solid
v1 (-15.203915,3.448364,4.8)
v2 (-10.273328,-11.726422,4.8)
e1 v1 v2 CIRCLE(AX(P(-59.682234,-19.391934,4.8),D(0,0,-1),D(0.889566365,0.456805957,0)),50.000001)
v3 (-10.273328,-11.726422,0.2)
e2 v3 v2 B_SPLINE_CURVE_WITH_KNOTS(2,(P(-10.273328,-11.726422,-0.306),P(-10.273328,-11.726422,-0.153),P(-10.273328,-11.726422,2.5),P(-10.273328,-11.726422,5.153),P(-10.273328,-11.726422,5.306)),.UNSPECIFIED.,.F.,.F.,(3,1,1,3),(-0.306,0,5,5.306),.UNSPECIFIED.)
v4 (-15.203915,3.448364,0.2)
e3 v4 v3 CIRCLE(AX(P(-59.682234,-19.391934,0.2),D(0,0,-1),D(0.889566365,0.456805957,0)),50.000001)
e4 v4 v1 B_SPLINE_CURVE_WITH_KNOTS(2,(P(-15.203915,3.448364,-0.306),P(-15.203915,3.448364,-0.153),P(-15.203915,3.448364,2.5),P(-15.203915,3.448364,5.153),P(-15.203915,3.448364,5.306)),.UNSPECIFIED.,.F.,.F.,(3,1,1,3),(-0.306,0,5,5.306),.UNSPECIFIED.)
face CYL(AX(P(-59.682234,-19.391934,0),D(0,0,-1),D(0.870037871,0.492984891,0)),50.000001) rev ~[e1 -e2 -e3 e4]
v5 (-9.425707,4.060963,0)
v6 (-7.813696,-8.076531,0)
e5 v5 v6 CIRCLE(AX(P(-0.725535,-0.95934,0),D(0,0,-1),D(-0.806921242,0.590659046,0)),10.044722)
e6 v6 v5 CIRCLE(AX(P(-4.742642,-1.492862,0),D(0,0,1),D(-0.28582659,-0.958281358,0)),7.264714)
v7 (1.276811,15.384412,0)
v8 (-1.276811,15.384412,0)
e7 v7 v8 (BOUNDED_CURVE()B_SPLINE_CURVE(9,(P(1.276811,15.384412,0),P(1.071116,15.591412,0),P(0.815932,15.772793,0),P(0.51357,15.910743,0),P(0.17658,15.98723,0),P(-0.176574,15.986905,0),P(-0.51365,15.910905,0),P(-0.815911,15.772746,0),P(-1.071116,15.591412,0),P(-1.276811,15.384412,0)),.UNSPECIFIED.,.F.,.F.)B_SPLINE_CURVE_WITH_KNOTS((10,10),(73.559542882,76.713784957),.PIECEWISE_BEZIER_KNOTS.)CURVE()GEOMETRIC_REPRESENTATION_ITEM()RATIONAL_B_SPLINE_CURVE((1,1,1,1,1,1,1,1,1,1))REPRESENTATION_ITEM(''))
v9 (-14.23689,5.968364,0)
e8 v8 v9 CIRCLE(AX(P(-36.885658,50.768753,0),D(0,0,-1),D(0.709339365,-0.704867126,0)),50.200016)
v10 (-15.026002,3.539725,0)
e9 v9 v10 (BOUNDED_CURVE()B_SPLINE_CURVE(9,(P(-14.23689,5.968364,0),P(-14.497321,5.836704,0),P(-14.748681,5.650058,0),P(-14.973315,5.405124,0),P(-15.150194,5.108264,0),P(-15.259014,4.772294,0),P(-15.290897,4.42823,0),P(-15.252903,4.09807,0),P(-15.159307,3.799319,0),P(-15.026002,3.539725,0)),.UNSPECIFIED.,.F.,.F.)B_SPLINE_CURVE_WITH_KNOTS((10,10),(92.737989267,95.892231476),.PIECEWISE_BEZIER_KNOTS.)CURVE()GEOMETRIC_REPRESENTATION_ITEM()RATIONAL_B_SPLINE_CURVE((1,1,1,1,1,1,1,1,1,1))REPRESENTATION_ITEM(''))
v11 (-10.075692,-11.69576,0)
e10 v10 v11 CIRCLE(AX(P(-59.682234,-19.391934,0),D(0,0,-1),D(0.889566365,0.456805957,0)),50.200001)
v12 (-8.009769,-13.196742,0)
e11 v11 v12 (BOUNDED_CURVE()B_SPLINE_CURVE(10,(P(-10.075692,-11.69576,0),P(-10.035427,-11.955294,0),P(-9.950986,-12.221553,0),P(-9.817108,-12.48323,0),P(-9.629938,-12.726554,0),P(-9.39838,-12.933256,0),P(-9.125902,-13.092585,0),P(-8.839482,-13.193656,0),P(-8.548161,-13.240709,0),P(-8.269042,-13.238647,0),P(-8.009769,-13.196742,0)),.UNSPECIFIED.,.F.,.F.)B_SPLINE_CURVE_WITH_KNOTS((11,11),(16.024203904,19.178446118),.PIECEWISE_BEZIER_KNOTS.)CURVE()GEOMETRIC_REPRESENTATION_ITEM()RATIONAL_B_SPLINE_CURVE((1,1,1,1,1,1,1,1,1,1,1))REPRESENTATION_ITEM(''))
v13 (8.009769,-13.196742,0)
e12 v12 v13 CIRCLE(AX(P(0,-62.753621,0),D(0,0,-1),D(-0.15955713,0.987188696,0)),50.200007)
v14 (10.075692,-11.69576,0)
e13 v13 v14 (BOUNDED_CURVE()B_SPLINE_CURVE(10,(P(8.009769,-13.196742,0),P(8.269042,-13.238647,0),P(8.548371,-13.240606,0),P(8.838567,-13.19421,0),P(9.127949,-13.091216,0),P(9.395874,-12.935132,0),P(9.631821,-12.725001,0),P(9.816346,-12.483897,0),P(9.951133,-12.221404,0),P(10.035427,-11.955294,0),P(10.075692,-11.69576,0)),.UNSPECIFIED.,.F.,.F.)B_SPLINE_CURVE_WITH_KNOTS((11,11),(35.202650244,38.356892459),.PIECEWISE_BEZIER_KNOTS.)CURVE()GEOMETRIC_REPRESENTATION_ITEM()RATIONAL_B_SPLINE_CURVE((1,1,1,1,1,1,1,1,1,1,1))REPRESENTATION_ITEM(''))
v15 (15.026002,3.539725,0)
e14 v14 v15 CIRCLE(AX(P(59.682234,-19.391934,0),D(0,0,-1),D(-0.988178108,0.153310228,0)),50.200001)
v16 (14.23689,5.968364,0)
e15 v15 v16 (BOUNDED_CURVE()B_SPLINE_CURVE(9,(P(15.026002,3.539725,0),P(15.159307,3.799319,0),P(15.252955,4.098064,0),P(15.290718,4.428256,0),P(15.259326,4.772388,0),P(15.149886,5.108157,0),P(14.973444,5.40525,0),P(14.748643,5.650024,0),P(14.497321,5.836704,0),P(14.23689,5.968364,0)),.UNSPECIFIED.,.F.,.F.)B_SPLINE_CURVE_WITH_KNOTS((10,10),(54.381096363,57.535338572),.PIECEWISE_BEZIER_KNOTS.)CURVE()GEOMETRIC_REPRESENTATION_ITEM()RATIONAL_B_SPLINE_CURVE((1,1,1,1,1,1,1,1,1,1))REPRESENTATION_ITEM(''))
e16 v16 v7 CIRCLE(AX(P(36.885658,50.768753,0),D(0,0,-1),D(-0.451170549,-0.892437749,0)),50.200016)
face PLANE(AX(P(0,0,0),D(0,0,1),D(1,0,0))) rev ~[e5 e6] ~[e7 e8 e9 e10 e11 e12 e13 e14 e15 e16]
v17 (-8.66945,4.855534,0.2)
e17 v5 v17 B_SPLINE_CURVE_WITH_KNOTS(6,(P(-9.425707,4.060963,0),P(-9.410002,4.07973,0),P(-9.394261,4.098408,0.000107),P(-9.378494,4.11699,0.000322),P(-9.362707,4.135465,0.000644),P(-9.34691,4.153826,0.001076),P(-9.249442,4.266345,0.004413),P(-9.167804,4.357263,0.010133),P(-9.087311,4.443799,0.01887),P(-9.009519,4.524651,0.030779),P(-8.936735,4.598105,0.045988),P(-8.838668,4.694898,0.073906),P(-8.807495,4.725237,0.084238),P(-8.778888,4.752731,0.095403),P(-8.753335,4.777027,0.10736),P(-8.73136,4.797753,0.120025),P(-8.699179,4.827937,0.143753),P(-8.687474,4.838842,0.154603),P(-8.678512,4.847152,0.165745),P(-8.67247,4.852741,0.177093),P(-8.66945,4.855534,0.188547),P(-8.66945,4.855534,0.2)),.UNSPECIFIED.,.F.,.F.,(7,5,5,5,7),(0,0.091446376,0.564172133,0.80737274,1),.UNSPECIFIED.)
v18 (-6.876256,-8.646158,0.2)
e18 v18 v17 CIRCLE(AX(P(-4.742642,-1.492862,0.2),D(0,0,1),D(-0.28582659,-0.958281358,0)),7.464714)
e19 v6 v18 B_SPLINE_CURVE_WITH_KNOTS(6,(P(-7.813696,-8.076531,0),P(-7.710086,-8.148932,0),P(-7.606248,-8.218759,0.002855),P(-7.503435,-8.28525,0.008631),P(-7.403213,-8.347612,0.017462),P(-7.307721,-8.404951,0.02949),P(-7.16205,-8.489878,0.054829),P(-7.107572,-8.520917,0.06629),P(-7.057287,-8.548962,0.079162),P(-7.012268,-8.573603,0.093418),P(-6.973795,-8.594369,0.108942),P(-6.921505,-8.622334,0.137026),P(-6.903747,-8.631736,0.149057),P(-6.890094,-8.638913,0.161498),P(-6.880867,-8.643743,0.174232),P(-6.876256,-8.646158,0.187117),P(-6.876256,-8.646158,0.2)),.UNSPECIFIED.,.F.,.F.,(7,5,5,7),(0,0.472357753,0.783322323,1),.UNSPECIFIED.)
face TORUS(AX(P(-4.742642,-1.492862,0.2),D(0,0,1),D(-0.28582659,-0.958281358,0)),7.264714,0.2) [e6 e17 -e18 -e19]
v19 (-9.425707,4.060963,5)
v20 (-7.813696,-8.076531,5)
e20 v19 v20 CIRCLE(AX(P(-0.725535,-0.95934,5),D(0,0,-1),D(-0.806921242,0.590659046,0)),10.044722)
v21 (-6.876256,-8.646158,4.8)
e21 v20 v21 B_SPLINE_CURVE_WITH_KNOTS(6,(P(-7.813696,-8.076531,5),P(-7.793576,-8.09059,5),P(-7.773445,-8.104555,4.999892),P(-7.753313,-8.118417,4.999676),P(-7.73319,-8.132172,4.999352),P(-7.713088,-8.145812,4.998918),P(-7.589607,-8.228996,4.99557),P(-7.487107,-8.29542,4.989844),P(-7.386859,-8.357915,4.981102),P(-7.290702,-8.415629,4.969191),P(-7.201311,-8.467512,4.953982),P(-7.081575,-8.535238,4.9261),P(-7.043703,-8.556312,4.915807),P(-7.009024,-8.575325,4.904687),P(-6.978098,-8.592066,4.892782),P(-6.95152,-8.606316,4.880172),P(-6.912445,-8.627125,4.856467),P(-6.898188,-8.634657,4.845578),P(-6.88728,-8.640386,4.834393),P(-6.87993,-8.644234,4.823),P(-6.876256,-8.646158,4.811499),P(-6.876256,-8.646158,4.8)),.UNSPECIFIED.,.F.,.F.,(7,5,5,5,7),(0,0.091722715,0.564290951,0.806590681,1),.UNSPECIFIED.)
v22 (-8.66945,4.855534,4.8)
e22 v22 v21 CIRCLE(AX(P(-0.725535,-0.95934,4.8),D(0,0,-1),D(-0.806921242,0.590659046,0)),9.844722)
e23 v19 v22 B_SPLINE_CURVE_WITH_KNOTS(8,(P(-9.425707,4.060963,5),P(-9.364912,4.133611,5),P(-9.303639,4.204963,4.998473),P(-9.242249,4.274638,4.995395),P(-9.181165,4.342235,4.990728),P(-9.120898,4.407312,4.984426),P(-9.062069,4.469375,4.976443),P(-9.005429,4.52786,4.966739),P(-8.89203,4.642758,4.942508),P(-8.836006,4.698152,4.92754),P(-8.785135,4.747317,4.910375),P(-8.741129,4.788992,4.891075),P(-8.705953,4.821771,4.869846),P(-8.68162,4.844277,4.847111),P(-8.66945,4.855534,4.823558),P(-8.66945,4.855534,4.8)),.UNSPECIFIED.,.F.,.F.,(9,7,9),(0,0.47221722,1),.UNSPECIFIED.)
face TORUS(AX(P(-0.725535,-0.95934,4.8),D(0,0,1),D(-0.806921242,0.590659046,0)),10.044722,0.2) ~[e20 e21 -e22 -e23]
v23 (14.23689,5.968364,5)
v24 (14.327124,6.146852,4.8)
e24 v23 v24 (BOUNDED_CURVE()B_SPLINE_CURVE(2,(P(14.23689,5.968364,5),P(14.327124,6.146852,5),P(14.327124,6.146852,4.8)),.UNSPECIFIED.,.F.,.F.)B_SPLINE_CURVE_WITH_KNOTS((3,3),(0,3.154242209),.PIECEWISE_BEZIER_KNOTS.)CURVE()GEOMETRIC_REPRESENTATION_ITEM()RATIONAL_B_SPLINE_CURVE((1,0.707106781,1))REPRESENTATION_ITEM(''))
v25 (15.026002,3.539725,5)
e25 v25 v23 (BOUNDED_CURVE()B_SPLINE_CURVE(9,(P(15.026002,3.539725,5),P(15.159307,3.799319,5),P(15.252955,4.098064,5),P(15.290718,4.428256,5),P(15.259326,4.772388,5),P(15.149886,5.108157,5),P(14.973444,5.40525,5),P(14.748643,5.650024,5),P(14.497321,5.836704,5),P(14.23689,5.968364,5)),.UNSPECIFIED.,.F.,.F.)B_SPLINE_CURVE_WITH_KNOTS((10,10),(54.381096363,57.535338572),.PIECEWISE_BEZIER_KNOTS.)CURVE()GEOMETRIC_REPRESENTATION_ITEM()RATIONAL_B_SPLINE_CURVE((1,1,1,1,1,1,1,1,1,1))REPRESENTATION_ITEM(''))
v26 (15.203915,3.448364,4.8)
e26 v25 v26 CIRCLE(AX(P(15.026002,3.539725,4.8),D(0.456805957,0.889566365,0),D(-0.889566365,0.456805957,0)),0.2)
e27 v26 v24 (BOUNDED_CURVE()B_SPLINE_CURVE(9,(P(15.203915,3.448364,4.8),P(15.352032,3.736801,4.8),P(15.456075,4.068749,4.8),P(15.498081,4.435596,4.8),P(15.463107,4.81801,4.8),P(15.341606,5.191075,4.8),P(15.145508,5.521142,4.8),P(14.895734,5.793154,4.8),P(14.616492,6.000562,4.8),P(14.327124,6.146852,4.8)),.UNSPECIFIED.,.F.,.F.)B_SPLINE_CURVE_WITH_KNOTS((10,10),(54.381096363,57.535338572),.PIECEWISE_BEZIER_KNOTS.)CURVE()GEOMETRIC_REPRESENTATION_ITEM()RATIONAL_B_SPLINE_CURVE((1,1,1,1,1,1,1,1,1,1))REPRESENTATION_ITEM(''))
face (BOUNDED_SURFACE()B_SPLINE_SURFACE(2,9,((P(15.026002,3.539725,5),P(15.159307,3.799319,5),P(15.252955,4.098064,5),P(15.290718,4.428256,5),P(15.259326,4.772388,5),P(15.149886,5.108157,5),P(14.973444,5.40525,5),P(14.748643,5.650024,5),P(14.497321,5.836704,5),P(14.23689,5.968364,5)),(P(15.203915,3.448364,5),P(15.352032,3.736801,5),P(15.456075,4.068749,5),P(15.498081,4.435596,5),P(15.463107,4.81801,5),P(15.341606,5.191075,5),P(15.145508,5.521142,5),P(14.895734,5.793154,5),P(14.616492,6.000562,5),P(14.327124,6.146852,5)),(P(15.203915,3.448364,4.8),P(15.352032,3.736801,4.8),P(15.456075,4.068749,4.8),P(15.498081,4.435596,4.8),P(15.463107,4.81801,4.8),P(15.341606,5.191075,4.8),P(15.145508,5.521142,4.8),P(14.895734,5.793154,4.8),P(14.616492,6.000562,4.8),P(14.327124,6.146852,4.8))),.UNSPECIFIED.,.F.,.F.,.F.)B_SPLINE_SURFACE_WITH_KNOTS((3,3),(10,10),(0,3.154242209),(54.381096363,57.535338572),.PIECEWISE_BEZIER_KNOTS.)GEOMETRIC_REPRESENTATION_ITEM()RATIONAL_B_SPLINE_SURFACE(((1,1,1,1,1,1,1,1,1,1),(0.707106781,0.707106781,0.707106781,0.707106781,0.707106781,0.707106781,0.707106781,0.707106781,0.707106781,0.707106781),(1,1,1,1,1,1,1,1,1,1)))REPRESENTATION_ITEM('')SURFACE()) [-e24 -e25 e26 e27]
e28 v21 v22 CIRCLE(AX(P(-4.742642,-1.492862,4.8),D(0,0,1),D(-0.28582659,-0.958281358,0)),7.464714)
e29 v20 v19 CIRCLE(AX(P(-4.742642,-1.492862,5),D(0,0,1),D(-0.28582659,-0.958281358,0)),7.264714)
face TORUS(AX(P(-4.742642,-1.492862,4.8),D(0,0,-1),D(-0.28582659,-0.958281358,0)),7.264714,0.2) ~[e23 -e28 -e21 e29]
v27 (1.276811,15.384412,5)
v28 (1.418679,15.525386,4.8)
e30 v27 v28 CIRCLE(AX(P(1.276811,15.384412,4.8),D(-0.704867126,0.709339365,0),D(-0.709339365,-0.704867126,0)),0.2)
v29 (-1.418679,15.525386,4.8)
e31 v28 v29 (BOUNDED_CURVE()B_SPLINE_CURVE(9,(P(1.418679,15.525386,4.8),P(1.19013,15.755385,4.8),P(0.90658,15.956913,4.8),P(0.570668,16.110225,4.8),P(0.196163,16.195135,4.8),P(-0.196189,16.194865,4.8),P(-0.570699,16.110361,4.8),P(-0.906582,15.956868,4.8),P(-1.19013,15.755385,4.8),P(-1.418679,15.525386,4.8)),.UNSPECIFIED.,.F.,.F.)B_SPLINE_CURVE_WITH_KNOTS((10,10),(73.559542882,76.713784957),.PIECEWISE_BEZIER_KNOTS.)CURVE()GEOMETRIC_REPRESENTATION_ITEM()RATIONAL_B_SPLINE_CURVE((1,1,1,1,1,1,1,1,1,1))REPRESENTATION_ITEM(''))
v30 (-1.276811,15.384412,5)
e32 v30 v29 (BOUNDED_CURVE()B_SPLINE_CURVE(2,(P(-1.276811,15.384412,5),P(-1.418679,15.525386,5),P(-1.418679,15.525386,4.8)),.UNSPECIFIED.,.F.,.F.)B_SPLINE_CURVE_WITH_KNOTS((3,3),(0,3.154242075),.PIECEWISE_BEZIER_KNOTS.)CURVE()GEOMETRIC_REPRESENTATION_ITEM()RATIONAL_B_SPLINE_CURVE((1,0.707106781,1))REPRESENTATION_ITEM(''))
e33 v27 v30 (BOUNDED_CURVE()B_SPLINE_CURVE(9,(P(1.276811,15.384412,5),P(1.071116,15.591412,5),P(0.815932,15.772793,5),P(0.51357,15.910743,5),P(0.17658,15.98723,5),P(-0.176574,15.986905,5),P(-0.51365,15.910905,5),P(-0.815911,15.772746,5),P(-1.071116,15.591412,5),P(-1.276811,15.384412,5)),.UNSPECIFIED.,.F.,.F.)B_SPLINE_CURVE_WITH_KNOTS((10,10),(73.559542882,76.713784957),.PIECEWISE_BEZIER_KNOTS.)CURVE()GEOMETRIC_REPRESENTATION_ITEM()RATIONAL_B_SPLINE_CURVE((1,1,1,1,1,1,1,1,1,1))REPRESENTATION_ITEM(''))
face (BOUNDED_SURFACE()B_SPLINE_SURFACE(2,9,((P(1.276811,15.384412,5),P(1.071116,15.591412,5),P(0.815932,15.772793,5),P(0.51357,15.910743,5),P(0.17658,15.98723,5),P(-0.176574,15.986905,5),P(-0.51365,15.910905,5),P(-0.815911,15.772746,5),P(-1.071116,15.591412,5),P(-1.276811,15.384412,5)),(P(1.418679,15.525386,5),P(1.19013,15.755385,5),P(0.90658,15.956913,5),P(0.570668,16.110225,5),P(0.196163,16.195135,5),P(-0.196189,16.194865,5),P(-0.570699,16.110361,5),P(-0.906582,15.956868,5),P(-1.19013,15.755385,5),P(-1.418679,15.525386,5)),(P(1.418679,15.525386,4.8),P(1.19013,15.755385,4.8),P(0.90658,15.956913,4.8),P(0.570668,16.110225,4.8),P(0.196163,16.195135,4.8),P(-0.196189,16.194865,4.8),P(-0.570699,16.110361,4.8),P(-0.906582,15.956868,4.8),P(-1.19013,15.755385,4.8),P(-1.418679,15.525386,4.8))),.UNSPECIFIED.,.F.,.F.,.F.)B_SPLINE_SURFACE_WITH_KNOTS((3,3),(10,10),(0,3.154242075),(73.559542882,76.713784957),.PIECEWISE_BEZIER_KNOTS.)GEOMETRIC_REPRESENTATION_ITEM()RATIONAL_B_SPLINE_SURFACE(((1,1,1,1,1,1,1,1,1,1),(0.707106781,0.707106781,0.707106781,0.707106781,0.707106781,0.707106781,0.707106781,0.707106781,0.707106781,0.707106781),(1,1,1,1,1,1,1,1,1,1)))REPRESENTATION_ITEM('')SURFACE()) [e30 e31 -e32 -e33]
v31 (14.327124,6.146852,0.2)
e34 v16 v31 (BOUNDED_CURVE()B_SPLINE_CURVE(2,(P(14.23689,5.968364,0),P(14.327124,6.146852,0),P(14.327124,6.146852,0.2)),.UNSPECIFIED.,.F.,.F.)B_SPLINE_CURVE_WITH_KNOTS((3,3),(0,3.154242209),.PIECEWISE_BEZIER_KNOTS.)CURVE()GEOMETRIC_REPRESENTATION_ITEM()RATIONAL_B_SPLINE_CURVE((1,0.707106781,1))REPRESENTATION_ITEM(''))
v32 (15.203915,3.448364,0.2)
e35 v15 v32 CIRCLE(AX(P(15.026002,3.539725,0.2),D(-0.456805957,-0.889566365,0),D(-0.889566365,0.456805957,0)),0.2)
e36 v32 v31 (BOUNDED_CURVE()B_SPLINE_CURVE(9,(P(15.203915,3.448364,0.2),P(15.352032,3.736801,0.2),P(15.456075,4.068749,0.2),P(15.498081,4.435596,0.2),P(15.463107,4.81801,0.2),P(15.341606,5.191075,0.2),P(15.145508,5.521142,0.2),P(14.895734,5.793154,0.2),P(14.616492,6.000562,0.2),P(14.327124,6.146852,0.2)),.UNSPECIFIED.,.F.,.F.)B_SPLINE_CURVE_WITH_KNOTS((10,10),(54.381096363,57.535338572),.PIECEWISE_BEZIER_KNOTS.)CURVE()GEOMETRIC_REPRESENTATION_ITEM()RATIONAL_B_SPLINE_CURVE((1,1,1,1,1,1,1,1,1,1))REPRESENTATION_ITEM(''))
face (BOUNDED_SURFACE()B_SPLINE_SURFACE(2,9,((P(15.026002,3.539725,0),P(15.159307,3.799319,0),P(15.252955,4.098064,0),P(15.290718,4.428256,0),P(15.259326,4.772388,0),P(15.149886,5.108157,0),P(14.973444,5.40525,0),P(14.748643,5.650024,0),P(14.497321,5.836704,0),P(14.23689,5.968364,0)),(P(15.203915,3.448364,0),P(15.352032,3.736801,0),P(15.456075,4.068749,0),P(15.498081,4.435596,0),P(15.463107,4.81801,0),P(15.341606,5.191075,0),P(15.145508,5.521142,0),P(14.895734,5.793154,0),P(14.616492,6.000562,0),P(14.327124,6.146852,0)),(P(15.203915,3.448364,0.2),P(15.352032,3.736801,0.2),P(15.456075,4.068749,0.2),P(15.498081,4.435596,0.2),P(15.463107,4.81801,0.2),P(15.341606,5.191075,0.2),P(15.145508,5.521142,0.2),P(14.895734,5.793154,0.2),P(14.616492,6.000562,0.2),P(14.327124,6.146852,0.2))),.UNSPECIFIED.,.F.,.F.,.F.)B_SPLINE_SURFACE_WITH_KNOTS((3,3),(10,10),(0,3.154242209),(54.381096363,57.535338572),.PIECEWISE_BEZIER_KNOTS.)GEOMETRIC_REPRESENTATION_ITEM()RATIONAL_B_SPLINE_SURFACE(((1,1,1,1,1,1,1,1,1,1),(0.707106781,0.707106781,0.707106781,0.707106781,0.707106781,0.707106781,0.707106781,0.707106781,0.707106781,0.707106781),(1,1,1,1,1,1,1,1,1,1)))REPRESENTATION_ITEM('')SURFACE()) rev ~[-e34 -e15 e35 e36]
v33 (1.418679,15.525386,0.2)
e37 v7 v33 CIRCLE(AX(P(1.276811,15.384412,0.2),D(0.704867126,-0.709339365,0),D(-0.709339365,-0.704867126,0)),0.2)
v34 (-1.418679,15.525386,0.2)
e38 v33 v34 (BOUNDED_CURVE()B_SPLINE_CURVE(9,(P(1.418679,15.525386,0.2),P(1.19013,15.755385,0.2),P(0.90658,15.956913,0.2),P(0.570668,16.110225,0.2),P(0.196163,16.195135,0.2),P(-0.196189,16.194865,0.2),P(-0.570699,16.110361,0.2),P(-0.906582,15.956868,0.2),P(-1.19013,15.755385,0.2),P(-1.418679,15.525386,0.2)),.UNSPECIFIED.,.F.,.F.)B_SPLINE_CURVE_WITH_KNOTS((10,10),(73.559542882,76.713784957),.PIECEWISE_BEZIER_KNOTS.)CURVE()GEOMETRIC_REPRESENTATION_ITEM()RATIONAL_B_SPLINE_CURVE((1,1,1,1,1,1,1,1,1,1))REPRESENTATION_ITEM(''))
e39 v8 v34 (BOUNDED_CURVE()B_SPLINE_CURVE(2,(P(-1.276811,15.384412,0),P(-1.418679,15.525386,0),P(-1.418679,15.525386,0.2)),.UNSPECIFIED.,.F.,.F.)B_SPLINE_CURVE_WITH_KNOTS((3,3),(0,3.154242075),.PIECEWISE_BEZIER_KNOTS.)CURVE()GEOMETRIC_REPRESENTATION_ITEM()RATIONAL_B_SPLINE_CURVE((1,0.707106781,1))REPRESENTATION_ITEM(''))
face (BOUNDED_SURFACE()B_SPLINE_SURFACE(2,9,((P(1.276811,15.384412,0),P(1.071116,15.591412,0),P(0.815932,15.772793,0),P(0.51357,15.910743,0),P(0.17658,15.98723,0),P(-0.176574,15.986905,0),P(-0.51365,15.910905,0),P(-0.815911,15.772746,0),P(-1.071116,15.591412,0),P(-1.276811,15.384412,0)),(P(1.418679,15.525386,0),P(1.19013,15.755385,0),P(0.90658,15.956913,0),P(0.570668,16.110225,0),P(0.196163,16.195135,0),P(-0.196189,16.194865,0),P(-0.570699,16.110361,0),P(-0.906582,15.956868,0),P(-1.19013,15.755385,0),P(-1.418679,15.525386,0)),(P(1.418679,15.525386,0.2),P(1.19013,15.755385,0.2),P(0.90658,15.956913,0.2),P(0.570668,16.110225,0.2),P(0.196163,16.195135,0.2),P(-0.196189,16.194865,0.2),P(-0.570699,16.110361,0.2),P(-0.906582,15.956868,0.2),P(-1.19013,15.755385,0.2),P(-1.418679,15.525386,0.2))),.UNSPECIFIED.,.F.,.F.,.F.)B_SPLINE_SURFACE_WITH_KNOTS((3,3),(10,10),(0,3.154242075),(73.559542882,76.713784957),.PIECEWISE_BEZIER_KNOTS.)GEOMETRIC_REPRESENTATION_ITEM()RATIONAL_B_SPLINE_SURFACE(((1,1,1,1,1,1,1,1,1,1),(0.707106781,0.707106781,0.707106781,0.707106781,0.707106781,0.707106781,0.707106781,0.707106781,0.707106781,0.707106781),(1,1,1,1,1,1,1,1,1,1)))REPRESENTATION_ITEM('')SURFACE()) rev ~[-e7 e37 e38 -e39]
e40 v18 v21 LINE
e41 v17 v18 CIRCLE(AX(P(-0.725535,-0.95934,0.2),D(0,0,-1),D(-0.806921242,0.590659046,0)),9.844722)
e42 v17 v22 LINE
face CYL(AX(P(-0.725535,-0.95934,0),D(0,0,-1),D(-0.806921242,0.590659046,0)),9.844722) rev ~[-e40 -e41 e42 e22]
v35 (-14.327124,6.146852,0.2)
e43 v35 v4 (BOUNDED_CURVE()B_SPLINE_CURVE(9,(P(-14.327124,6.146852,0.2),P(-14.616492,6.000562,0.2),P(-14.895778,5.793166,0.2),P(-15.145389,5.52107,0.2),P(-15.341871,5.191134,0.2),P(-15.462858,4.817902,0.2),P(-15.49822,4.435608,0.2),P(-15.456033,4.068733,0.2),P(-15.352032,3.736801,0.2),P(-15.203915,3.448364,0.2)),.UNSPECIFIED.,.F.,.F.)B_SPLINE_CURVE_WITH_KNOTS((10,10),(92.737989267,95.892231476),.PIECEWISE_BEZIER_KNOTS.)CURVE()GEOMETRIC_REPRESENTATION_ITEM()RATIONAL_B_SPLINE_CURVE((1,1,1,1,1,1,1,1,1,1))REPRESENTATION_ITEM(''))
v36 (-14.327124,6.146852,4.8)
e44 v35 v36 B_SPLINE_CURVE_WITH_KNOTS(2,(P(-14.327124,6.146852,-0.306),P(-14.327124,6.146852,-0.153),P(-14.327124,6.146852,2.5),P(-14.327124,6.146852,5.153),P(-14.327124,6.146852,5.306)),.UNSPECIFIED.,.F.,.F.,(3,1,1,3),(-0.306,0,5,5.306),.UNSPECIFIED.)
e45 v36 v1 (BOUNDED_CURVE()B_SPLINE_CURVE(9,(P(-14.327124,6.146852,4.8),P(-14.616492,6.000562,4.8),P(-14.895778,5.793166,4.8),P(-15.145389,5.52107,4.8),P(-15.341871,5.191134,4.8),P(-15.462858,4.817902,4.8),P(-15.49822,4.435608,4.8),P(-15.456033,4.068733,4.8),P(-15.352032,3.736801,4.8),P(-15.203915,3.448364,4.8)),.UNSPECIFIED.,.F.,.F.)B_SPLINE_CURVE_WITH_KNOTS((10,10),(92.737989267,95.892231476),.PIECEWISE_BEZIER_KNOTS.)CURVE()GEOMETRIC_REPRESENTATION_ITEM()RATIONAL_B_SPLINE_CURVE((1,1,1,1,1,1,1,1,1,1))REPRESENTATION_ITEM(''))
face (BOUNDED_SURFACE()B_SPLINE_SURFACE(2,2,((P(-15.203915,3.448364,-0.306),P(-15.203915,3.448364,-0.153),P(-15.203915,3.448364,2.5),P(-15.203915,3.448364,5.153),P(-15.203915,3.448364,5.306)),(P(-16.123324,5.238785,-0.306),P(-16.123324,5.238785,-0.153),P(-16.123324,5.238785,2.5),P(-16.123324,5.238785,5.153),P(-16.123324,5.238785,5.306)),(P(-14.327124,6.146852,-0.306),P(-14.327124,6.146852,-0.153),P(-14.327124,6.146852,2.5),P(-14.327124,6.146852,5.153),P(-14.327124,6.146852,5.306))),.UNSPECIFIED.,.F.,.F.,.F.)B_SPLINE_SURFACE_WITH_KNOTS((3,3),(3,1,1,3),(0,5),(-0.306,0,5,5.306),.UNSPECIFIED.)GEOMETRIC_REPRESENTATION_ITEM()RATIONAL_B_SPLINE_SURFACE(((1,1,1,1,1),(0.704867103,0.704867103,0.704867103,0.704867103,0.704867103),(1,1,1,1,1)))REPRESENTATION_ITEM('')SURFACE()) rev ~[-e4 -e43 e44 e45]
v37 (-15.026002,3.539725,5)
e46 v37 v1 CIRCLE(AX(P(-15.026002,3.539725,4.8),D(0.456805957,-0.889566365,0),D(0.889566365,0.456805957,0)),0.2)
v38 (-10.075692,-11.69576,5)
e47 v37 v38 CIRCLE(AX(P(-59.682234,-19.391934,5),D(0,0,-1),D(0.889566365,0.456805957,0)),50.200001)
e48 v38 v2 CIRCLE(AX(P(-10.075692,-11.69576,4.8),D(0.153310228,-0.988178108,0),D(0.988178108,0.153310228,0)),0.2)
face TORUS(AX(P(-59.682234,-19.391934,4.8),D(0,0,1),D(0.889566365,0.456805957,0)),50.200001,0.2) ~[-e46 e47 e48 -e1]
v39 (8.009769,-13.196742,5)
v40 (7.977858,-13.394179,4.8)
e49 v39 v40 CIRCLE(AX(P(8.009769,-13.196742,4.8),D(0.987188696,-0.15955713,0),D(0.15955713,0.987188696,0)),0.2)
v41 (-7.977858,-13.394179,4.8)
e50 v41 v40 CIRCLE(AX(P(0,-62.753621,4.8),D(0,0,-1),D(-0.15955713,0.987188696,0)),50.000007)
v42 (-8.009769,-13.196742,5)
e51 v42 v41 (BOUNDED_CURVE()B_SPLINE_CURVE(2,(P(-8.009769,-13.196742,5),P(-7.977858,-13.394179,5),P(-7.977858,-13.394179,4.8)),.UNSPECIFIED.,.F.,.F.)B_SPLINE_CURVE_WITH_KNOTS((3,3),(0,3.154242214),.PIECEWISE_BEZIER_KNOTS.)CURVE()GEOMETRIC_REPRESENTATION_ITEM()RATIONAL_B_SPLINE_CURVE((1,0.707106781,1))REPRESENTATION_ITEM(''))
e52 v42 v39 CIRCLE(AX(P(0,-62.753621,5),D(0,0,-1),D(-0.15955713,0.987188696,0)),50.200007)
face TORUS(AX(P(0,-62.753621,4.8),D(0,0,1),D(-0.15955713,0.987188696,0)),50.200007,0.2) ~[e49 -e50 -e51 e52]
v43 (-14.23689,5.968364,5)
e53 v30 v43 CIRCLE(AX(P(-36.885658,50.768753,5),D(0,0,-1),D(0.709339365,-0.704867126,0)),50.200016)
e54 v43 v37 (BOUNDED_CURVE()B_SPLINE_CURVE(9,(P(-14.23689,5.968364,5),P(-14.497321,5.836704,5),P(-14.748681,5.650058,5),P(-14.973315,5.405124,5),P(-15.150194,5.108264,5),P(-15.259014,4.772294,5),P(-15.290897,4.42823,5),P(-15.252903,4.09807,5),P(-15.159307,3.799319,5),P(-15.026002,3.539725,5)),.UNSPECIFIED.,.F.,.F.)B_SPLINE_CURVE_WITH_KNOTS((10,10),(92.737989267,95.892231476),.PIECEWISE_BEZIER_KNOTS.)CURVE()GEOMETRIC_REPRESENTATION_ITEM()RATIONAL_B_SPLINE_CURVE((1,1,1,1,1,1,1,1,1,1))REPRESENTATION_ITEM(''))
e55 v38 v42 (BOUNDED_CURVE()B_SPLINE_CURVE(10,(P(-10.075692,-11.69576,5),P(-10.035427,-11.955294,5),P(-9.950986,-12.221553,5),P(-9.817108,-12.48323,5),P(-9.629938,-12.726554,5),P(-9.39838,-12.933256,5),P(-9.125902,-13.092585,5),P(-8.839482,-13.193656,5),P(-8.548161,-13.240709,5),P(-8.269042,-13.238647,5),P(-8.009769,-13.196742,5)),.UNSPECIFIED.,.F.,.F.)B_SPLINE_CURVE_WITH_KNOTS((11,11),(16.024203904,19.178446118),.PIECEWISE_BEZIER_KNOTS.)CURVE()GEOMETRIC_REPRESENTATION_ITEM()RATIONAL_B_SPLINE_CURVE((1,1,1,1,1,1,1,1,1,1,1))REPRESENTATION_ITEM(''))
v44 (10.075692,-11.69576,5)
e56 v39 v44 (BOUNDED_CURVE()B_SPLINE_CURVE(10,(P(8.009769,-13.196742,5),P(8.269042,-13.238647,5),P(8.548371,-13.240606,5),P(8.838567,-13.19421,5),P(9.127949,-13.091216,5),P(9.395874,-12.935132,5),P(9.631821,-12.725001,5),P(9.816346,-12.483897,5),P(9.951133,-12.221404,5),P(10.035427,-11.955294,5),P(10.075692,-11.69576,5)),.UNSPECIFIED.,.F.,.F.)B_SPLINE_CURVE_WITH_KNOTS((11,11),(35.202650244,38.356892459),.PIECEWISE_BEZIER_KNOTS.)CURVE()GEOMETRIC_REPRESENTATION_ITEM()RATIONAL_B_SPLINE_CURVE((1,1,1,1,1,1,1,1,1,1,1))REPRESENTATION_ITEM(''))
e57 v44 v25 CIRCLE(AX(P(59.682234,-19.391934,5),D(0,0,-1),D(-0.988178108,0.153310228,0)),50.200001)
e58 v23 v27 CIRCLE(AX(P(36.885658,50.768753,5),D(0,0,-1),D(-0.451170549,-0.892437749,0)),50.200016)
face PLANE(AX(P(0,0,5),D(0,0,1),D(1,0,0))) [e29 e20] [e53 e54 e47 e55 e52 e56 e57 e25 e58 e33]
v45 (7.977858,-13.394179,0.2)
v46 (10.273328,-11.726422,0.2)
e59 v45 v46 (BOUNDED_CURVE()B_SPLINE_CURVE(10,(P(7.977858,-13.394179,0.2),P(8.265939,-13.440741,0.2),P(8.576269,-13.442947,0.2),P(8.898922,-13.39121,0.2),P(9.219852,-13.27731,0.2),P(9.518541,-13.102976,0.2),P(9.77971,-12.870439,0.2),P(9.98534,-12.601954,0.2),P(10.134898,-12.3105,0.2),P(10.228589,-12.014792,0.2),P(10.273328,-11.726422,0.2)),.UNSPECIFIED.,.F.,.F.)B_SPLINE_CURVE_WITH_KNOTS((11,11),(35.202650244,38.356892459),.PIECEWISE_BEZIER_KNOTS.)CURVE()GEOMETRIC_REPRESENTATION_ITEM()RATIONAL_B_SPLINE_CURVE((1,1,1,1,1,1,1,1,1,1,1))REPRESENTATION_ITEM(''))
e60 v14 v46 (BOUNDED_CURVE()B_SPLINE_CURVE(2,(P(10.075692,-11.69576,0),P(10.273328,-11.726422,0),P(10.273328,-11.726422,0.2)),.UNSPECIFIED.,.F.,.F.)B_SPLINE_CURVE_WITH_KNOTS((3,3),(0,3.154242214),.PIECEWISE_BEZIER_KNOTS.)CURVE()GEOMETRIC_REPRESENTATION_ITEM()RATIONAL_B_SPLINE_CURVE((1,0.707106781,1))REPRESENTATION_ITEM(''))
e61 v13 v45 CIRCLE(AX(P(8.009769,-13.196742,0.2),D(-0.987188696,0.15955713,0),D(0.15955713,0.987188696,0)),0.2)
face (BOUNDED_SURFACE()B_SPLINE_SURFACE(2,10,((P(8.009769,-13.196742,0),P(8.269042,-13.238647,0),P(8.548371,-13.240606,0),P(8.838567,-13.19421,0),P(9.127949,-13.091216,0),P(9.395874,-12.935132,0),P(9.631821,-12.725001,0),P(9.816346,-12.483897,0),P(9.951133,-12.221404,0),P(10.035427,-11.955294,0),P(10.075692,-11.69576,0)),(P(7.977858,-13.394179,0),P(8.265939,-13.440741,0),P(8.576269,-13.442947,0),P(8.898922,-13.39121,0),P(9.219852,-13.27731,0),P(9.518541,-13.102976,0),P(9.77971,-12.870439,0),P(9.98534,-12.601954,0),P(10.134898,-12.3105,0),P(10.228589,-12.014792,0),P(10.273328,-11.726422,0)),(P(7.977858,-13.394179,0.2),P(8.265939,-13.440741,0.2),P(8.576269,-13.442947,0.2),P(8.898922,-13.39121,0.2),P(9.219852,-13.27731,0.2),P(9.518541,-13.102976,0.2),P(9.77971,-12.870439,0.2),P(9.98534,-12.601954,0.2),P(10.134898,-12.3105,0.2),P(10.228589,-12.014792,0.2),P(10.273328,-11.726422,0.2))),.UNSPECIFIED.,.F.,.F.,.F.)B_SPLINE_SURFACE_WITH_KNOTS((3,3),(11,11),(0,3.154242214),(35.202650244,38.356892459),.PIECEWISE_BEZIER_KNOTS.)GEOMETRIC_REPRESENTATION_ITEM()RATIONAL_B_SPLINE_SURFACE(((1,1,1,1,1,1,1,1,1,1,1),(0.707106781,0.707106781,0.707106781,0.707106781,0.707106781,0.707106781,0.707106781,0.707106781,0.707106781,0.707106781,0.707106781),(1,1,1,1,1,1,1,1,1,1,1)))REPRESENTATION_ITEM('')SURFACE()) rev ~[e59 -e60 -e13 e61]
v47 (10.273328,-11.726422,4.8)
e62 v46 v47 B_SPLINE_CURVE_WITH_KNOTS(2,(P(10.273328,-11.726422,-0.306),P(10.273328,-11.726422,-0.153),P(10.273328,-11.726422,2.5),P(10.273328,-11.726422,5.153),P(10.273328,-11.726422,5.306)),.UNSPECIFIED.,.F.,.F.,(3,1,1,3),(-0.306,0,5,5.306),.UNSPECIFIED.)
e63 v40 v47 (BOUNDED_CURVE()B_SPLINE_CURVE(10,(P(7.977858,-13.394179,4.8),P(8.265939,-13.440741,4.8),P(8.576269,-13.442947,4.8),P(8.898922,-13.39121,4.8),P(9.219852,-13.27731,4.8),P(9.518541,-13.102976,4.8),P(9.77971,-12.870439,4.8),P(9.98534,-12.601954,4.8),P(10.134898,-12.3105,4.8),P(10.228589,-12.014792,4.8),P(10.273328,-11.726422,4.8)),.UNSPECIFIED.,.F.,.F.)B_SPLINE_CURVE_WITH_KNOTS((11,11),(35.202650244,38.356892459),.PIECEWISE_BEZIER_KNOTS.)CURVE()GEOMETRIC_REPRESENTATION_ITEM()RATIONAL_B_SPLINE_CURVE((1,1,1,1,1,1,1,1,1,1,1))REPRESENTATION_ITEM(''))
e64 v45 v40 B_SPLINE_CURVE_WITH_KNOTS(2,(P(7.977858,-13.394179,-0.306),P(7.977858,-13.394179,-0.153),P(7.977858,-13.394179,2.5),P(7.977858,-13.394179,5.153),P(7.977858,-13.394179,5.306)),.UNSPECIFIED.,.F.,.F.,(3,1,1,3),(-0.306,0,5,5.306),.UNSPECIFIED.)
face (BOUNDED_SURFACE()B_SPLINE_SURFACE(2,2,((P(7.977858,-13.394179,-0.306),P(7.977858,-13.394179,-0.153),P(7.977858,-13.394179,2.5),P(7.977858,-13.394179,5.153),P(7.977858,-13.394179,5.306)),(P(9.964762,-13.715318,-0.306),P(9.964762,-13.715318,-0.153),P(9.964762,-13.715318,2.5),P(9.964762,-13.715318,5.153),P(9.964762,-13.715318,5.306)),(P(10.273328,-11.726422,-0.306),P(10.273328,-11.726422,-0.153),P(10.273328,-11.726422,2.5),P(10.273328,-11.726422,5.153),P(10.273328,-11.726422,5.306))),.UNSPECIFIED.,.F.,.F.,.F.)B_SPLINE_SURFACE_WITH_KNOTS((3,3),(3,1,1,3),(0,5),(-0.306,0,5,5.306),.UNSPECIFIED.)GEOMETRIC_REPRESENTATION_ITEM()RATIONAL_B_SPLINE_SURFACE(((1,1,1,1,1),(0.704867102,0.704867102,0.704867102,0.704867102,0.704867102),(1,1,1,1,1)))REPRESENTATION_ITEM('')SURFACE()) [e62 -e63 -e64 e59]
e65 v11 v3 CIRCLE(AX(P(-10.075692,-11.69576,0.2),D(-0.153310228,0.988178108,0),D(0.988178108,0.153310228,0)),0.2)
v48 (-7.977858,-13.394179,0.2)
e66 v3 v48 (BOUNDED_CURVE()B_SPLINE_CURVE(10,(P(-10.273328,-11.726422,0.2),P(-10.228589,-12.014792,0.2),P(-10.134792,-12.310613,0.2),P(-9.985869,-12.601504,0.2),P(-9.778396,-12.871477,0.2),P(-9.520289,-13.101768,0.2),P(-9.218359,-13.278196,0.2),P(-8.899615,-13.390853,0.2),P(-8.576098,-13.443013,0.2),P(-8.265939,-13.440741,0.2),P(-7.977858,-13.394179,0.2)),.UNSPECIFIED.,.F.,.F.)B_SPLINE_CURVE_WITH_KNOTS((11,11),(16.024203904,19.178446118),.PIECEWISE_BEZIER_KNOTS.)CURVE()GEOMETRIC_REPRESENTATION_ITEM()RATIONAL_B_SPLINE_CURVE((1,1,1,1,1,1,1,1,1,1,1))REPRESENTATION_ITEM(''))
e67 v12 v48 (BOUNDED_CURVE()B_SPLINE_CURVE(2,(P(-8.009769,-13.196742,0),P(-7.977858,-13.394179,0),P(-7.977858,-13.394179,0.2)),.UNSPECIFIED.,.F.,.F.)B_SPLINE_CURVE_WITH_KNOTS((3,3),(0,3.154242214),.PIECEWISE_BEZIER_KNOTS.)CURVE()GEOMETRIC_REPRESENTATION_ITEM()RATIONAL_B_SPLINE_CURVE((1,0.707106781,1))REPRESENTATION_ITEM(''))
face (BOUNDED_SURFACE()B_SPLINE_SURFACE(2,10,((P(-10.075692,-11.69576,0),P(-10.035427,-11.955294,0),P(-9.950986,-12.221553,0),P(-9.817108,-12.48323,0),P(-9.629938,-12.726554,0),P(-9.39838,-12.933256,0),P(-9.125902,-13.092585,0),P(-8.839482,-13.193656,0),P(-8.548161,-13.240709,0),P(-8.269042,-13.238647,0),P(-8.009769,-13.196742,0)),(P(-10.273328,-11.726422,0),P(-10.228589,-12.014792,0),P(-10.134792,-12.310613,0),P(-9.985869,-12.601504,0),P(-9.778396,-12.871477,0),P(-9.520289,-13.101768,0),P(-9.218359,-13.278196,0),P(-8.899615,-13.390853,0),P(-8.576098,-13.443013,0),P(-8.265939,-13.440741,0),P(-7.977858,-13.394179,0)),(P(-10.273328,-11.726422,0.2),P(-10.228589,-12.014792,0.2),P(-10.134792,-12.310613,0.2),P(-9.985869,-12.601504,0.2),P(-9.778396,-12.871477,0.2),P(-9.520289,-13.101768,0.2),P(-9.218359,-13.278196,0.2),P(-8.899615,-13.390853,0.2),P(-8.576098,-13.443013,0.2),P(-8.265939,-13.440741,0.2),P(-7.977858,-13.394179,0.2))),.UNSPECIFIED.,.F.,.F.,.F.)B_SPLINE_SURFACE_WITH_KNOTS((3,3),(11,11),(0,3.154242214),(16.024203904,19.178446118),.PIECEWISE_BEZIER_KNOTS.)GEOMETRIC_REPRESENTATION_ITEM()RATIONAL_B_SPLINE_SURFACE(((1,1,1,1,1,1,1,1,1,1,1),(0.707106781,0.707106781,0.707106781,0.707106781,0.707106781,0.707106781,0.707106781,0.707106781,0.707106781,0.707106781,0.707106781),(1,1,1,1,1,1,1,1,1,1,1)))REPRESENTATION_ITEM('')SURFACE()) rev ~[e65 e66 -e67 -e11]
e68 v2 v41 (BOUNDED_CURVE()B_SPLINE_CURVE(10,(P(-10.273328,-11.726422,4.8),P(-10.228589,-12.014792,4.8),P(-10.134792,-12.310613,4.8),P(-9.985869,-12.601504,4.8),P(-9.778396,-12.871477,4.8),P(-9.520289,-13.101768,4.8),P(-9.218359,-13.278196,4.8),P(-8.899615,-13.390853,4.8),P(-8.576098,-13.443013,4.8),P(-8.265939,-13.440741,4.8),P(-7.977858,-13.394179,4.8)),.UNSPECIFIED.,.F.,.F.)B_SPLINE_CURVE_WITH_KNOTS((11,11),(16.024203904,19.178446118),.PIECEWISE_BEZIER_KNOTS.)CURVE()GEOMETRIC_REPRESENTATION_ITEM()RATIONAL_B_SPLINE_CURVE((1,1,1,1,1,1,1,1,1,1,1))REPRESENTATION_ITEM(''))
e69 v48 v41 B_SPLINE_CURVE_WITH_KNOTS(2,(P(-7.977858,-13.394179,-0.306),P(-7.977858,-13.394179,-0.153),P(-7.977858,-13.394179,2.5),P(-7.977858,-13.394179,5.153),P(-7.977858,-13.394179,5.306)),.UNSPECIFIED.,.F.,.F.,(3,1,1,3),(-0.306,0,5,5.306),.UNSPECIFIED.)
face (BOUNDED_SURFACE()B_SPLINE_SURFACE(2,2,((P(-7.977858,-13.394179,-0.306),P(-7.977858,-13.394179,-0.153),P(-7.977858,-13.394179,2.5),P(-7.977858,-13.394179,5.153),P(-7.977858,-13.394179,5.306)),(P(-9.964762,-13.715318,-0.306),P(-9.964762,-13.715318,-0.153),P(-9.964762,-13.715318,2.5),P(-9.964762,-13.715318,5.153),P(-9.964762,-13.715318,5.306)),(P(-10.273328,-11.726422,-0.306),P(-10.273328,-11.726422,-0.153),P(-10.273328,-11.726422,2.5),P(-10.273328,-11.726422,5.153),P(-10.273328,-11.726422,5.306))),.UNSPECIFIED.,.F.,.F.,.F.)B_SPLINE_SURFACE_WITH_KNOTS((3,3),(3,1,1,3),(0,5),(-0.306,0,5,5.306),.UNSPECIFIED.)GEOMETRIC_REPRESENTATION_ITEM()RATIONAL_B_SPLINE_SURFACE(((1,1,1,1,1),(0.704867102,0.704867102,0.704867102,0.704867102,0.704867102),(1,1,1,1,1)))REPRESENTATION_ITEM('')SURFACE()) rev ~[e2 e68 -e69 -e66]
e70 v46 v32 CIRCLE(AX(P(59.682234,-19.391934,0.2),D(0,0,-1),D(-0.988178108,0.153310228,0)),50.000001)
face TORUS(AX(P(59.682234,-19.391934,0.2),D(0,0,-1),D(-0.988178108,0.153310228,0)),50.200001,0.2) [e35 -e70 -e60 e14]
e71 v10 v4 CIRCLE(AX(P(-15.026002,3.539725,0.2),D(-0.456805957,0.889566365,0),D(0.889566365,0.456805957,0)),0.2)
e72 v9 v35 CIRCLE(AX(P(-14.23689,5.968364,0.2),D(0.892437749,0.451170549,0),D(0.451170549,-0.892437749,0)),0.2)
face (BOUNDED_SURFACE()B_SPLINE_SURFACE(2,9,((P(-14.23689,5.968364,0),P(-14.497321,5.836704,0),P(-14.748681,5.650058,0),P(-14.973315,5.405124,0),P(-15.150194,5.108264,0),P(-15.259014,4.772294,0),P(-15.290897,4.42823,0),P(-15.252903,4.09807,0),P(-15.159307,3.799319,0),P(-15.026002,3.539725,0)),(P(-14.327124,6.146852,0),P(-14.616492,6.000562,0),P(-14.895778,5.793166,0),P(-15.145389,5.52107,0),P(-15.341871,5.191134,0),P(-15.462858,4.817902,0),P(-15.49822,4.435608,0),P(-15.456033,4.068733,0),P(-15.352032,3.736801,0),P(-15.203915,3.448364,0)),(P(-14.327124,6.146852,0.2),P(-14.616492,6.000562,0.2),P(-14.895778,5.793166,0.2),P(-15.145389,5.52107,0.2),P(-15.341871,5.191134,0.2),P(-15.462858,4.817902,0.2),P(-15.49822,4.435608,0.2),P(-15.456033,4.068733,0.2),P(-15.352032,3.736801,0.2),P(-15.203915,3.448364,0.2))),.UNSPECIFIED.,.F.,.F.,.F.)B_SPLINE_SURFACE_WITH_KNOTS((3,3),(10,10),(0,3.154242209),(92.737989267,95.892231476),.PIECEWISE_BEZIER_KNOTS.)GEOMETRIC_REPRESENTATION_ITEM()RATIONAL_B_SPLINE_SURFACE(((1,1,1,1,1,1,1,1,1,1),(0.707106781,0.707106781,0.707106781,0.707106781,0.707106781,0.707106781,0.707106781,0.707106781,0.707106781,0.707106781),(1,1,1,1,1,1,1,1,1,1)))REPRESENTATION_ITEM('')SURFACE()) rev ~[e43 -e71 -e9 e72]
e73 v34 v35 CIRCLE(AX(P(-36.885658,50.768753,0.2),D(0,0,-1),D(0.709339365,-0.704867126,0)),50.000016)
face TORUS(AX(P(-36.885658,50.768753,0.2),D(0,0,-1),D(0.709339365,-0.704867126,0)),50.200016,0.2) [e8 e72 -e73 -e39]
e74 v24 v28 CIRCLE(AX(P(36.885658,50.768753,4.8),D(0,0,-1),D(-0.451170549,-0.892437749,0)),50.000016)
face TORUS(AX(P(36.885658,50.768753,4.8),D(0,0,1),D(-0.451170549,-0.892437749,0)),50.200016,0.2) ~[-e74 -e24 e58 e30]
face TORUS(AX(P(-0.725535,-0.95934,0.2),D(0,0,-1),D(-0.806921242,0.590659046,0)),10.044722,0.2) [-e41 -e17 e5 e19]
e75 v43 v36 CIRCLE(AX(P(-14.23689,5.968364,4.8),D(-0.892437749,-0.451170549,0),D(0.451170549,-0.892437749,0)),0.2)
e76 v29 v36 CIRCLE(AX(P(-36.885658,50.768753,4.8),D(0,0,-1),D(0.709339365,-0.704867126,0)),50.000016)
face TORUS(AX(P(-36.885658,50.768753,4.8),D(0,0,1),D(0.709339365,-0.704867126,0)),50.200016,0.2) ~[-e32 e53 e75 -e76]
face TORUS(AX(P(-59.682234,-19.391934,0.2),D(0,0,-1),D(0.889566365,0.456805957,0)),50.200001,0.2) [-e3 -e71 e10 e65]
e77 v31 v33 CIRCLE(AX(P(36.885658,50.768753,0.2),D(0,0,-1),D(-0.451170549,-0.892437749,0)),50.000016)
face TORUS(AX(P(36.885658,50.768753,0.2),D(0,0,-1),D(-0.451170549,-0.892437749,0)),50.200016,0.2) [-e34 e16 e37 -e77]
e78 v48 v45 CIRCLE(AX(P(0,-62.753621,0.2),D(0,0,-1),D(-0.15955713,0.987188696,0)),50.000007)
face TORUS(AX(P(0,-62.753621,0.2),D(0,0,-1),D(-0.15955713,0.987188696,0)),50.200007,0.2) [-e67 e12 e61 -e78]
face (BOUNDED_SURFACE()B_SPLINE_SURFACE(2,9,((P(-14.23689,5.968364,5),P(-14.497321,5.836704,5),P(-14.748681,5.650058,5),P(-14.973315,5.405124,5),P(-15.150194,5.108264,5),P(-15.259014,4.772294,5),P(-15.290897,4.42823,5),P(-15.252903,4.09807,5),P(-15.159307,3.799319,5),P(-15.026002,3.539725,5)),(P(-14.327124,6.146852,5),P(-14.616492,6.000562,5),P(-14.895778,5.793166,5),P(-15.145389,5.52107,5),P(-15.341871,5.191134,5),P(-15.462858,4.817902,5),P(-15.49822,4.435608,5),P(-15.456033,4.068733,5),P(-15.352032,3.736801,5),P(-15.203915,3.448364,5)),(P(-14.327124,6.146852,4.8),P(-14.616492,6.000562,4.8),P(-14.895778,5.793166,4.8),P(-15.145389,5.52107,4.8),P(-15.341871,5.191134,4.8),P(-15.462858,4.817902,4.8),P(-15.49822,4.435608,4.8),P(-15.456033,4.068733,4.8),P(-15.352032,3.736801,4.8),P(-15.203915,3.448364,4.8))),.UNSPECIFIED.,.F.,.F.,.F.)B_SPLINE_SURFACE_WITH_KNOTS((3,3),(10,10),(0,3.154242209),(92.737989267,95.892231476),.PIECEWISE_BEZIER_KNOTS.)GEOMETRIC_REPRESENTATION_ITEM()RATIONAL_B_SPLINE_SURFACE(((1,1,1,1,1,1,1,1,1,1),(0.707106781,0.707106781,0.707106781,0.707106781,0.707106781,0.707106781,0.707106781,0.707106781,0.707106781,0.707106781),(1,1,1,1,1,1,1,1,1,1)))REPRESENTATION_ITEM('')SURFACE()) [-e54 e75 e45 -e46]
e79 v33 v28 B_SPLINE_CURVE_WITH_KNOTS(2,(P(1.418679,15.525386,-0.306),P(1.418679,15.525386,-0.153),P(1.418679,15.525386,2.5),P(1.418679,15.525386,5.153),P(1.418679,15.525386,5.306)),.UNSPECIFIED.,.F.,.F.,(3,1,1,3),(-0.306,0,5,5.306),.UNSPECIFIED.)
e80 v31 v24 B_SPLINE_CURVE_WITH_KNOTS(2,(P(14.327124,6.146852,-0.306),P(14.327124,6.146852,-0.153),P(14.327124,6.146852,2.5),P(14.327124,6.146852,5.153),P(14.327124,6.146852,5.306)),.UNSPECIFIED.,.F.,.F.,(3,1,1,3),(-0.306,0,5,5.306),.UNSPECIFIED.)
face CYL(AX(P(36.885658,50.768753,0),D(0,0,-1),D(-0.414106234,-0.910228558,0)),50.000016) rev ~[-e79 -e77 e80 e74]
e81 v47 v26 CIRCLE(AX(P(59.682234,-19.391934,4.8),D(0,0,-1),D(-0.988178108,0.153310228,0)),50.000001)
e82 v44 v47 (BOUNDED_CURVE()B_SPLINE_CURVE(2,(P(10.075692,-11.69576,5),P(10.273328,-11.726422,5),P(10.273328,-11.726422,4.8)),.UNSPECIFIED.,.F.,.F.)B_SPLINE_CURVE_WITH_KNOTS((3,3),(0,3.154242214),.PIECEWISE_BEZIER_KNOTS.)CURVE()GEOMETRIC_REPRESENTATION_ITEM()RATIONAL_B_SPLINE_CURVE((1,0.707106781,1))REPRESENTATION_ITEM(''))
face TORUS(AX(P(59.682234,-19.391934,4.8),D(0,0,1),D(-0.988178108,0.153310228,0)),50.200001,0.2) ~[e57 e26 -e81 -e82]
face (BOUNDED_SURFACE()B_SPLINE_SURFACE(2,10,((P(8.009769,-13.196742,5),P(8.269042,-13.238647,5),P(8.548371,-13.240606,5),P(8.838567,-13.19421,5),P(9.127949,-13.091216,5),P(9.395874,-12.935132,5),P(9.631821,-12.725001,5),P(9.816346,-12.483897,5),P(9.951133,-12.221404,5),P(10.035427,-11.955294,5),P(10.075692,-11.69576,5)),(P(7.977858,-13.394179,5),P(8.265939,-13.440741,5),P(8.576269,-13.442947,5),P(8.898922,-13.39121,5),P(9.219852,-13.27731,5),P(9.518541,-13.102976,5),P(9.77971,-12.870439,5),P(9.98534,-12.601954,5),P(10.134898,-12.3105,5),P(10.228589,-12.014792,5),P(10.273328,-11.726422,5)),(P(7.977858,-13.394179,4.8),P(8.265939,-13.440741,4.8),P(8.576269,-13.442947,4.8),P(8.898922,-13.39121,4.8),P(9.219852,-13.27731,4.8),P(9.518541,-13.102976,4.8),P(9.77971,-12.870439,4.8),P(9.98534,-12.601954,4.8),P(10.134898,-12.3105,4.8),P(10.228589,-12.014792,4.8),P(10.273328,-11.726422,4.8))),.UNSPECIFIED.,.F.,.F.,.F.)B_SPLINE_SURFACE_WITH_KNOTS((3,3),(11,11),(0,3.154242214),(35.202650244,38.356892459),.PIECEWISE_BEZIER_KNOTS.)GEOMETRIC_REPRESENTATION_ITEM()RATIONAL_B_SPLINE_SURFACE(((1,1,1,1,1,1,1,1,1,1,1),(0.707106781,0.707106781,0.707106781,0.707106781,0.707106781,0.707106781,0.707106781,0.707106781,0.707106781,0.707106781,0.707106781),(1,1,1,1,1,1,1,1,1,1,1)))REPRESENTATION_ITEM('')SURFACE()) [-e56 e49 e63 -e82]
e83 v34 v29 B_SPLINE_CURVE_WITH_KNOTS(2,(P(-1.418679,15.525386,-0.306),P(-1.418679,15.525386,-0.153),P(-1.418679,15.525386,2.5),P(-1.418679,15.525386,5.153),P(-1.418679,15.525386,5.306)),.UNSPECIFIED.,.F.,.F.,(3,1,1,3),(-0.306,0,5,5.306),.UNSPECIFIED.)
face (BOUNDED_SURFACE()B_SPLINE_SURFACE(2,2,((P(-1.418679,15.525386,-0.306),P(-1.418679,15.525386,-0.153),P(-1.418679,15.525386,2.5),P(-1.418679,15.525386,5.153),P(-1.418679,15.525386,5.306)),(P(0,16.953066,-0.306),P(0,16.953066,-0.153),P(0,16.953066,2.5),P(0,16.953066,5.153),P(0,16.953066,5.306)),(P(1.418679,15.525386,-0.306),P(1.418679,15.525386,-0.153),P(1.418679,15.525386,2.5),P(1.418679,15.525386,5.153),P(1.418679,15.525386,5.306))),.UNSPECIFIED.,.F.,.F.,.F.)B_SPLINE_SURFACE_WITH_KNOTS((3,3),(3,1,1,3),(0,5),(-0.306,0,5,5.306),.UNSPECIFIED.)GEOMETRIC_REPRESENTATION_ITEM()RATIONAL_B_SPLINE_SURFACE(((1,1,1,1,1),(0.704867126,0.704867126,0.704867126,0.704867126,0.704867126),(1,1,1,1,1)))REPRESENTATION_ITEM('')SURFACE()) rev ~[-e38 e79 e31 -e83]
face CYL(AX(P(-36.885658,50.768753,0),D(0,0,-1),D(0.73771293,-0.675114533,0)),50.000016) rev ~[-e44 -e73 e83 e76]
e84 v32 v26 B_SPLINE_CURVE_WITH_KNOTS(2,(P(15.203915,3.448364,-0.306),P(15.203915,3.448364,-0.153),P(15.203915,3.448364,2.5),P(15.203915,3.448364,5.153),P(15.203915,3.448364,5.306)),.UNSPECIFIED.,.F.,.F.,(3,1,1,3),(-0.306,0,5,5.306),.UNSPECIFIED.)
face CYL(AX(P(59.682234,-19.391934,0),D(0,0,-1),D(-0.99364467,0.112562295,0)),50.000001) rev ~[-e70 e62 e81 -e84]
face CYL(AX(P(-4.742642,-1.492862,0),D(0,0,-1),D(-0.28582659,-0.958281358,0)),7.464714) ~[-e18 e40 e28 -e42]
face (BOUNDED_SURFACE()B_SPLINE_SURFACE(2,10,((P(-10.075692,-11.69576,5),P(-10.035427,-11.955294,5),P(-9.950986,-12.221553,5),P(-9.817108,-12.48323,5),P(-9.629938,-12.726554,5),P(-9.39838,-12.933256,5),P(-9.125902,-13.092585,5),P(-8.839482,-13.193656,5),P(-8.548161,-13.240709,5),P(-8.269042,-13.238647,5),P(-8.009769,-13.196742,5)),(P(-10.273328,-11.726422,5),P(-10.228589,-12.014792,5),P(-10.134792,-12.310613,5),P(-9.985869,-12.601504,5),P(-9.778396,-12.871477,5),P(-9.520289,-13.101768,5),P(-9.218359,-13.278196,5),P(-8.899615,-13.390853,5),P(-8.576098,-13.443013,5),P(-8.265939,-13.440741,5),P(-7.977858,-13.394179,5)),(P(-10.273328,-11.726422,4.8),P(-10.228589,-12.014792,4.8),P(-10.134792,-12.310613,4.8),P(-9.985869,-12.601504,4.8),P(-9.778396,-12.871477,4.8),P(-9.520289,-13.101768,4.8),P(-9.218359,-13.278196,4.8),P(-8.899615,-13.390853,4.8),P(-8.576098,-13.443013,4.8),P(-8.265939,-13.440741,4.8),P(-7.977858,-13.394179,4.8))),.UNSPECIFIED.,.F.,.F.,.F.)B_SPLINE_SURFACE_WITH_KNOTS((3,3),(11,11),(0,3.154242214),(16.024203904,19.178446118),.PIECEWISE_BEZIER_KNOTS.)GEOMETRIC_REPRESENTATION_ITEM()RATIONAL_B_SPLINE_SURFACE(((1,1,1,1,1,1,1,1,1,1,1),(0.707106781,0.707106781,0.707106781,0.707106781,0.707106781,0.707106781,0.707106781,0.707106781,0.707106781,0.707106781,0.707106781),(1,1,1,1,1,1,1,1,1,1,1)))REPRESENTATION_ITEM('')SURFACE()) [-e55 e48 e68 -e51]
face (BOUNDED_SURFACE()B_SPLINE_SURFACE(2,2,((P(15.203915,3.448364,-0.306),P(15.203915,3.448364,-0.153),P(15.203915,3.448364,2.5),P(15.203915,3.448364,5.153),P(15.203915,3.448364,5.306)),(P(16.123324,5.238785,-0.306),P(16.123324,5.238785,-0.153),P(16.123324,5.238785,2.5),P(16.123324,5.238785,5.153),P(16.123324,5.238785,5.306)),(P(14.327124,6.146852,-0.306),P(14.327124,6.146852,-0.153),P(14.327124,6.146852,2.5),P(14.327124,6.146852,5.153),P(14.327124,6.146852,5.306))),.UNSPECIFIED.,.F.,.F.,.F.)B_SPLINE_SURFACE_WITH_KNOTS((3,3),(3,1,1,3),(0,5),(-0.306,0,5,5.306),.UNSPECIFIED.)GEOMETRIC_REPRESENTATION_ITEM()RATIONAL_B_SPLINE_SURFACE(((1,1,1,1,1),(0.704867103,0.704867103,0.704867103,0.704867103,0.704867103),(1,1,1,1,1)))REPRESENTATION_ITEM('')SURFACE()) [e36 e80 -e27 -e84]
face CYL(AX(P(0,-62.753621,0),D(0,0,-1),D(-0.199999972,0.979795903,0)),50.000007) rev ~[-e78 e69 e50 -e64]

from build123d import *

# Parameters (mm, degrees)
F1_DEPTH = 5
F2_R     = 2
F3_R     = 0.2


with BuildPart() as f1:
    # F0 (on Top) → F1 (new body)
    with BuildSketch(Plane.XY):
        with BuildLine():
            ThreePointArc((-10, -13.763819), (0, -12.753614), (10, -13.763819))
            ThreePointArc((10, -13.763819), (12.129408, -3.941083), (16.18034, 5.257311))
            ThreePointArc((16.18034, 5.257311), (7.496386, 10.317891), (0, 17.013016))
            ThreePointArc((0, 17.013016), (-7.496386, 10.317891), (-16.18034, 5.257311))
            ThreePointArc((-16.18034, 5.257311), (-12.129408, -3.941083), (-10, -13.763819))
        make_face()
        with BuildLine():
            ThreePointArc((-8.66945, 4.855534), (9.033492, 0.336782), (-6.876256, -8.646158))
            ThreePointArc((-6.876256, -8.646158), (2.657094, -0.510084), (-8.66945, 4.855534))
        make_face(mode=Mode.SUBTRACT)
    extrude(amount=F1_DEPTH)

    # F2
    f2_edges = [f1.edges().sort_by_distance(p)[0] for p in [
        (-16.18034, 5.257311, 2.5),
        (0, 17.013016, 2.5),
        (16.18034, 5.257311, 2.5),
        (10, -13.763819, 2.5),
        (-10, -13.763819, 2.5),
    ]]
    fillet(f2_edges, radius=F2_R)

    # F3
    f3_edges = [f1.edges().sort_by_distance(p)[0] for p in [
        (-12.129408, -3.941083, 5),
        (-15.326895, 4.98001, 5),
        (-9.472542, -13.037836, 5),
        (-7.496386, 10.317891, 5),
        (0, -12.753614, 5),
        (0, 16.115652, 5),
        (9.472542, -13.037836, 5),
        (7.496386, 10.317891, 5),
        (12.129408, -3.941083, 5),
        (15.326895, 4.98001, 5),
        (9.033492, 0.336782, 5),
        (2.657094, -0.510084, 5),
        (-12.129408, -3.941083, 0),
        (-15.326895, 4.98001, 0),
        (-9.472542, -13.037836, 0),
        (-7.496386, 10.317891, 0),
        (0, -12.753614, 0),
        (0, 16.115652, 0),
        (9.472542, -13.037836, 0),
        (7.496386, 10.317891, 0),
        (12.129408, -3.941083, 0),
        (15.326895, 4.98001, 0),
        (9.033492, 0.336782, 0),
        (2.657094, -0.510084, 0),
    ]]
    fillet(f3_edges, radius=F3_R)


solid = f1.part
